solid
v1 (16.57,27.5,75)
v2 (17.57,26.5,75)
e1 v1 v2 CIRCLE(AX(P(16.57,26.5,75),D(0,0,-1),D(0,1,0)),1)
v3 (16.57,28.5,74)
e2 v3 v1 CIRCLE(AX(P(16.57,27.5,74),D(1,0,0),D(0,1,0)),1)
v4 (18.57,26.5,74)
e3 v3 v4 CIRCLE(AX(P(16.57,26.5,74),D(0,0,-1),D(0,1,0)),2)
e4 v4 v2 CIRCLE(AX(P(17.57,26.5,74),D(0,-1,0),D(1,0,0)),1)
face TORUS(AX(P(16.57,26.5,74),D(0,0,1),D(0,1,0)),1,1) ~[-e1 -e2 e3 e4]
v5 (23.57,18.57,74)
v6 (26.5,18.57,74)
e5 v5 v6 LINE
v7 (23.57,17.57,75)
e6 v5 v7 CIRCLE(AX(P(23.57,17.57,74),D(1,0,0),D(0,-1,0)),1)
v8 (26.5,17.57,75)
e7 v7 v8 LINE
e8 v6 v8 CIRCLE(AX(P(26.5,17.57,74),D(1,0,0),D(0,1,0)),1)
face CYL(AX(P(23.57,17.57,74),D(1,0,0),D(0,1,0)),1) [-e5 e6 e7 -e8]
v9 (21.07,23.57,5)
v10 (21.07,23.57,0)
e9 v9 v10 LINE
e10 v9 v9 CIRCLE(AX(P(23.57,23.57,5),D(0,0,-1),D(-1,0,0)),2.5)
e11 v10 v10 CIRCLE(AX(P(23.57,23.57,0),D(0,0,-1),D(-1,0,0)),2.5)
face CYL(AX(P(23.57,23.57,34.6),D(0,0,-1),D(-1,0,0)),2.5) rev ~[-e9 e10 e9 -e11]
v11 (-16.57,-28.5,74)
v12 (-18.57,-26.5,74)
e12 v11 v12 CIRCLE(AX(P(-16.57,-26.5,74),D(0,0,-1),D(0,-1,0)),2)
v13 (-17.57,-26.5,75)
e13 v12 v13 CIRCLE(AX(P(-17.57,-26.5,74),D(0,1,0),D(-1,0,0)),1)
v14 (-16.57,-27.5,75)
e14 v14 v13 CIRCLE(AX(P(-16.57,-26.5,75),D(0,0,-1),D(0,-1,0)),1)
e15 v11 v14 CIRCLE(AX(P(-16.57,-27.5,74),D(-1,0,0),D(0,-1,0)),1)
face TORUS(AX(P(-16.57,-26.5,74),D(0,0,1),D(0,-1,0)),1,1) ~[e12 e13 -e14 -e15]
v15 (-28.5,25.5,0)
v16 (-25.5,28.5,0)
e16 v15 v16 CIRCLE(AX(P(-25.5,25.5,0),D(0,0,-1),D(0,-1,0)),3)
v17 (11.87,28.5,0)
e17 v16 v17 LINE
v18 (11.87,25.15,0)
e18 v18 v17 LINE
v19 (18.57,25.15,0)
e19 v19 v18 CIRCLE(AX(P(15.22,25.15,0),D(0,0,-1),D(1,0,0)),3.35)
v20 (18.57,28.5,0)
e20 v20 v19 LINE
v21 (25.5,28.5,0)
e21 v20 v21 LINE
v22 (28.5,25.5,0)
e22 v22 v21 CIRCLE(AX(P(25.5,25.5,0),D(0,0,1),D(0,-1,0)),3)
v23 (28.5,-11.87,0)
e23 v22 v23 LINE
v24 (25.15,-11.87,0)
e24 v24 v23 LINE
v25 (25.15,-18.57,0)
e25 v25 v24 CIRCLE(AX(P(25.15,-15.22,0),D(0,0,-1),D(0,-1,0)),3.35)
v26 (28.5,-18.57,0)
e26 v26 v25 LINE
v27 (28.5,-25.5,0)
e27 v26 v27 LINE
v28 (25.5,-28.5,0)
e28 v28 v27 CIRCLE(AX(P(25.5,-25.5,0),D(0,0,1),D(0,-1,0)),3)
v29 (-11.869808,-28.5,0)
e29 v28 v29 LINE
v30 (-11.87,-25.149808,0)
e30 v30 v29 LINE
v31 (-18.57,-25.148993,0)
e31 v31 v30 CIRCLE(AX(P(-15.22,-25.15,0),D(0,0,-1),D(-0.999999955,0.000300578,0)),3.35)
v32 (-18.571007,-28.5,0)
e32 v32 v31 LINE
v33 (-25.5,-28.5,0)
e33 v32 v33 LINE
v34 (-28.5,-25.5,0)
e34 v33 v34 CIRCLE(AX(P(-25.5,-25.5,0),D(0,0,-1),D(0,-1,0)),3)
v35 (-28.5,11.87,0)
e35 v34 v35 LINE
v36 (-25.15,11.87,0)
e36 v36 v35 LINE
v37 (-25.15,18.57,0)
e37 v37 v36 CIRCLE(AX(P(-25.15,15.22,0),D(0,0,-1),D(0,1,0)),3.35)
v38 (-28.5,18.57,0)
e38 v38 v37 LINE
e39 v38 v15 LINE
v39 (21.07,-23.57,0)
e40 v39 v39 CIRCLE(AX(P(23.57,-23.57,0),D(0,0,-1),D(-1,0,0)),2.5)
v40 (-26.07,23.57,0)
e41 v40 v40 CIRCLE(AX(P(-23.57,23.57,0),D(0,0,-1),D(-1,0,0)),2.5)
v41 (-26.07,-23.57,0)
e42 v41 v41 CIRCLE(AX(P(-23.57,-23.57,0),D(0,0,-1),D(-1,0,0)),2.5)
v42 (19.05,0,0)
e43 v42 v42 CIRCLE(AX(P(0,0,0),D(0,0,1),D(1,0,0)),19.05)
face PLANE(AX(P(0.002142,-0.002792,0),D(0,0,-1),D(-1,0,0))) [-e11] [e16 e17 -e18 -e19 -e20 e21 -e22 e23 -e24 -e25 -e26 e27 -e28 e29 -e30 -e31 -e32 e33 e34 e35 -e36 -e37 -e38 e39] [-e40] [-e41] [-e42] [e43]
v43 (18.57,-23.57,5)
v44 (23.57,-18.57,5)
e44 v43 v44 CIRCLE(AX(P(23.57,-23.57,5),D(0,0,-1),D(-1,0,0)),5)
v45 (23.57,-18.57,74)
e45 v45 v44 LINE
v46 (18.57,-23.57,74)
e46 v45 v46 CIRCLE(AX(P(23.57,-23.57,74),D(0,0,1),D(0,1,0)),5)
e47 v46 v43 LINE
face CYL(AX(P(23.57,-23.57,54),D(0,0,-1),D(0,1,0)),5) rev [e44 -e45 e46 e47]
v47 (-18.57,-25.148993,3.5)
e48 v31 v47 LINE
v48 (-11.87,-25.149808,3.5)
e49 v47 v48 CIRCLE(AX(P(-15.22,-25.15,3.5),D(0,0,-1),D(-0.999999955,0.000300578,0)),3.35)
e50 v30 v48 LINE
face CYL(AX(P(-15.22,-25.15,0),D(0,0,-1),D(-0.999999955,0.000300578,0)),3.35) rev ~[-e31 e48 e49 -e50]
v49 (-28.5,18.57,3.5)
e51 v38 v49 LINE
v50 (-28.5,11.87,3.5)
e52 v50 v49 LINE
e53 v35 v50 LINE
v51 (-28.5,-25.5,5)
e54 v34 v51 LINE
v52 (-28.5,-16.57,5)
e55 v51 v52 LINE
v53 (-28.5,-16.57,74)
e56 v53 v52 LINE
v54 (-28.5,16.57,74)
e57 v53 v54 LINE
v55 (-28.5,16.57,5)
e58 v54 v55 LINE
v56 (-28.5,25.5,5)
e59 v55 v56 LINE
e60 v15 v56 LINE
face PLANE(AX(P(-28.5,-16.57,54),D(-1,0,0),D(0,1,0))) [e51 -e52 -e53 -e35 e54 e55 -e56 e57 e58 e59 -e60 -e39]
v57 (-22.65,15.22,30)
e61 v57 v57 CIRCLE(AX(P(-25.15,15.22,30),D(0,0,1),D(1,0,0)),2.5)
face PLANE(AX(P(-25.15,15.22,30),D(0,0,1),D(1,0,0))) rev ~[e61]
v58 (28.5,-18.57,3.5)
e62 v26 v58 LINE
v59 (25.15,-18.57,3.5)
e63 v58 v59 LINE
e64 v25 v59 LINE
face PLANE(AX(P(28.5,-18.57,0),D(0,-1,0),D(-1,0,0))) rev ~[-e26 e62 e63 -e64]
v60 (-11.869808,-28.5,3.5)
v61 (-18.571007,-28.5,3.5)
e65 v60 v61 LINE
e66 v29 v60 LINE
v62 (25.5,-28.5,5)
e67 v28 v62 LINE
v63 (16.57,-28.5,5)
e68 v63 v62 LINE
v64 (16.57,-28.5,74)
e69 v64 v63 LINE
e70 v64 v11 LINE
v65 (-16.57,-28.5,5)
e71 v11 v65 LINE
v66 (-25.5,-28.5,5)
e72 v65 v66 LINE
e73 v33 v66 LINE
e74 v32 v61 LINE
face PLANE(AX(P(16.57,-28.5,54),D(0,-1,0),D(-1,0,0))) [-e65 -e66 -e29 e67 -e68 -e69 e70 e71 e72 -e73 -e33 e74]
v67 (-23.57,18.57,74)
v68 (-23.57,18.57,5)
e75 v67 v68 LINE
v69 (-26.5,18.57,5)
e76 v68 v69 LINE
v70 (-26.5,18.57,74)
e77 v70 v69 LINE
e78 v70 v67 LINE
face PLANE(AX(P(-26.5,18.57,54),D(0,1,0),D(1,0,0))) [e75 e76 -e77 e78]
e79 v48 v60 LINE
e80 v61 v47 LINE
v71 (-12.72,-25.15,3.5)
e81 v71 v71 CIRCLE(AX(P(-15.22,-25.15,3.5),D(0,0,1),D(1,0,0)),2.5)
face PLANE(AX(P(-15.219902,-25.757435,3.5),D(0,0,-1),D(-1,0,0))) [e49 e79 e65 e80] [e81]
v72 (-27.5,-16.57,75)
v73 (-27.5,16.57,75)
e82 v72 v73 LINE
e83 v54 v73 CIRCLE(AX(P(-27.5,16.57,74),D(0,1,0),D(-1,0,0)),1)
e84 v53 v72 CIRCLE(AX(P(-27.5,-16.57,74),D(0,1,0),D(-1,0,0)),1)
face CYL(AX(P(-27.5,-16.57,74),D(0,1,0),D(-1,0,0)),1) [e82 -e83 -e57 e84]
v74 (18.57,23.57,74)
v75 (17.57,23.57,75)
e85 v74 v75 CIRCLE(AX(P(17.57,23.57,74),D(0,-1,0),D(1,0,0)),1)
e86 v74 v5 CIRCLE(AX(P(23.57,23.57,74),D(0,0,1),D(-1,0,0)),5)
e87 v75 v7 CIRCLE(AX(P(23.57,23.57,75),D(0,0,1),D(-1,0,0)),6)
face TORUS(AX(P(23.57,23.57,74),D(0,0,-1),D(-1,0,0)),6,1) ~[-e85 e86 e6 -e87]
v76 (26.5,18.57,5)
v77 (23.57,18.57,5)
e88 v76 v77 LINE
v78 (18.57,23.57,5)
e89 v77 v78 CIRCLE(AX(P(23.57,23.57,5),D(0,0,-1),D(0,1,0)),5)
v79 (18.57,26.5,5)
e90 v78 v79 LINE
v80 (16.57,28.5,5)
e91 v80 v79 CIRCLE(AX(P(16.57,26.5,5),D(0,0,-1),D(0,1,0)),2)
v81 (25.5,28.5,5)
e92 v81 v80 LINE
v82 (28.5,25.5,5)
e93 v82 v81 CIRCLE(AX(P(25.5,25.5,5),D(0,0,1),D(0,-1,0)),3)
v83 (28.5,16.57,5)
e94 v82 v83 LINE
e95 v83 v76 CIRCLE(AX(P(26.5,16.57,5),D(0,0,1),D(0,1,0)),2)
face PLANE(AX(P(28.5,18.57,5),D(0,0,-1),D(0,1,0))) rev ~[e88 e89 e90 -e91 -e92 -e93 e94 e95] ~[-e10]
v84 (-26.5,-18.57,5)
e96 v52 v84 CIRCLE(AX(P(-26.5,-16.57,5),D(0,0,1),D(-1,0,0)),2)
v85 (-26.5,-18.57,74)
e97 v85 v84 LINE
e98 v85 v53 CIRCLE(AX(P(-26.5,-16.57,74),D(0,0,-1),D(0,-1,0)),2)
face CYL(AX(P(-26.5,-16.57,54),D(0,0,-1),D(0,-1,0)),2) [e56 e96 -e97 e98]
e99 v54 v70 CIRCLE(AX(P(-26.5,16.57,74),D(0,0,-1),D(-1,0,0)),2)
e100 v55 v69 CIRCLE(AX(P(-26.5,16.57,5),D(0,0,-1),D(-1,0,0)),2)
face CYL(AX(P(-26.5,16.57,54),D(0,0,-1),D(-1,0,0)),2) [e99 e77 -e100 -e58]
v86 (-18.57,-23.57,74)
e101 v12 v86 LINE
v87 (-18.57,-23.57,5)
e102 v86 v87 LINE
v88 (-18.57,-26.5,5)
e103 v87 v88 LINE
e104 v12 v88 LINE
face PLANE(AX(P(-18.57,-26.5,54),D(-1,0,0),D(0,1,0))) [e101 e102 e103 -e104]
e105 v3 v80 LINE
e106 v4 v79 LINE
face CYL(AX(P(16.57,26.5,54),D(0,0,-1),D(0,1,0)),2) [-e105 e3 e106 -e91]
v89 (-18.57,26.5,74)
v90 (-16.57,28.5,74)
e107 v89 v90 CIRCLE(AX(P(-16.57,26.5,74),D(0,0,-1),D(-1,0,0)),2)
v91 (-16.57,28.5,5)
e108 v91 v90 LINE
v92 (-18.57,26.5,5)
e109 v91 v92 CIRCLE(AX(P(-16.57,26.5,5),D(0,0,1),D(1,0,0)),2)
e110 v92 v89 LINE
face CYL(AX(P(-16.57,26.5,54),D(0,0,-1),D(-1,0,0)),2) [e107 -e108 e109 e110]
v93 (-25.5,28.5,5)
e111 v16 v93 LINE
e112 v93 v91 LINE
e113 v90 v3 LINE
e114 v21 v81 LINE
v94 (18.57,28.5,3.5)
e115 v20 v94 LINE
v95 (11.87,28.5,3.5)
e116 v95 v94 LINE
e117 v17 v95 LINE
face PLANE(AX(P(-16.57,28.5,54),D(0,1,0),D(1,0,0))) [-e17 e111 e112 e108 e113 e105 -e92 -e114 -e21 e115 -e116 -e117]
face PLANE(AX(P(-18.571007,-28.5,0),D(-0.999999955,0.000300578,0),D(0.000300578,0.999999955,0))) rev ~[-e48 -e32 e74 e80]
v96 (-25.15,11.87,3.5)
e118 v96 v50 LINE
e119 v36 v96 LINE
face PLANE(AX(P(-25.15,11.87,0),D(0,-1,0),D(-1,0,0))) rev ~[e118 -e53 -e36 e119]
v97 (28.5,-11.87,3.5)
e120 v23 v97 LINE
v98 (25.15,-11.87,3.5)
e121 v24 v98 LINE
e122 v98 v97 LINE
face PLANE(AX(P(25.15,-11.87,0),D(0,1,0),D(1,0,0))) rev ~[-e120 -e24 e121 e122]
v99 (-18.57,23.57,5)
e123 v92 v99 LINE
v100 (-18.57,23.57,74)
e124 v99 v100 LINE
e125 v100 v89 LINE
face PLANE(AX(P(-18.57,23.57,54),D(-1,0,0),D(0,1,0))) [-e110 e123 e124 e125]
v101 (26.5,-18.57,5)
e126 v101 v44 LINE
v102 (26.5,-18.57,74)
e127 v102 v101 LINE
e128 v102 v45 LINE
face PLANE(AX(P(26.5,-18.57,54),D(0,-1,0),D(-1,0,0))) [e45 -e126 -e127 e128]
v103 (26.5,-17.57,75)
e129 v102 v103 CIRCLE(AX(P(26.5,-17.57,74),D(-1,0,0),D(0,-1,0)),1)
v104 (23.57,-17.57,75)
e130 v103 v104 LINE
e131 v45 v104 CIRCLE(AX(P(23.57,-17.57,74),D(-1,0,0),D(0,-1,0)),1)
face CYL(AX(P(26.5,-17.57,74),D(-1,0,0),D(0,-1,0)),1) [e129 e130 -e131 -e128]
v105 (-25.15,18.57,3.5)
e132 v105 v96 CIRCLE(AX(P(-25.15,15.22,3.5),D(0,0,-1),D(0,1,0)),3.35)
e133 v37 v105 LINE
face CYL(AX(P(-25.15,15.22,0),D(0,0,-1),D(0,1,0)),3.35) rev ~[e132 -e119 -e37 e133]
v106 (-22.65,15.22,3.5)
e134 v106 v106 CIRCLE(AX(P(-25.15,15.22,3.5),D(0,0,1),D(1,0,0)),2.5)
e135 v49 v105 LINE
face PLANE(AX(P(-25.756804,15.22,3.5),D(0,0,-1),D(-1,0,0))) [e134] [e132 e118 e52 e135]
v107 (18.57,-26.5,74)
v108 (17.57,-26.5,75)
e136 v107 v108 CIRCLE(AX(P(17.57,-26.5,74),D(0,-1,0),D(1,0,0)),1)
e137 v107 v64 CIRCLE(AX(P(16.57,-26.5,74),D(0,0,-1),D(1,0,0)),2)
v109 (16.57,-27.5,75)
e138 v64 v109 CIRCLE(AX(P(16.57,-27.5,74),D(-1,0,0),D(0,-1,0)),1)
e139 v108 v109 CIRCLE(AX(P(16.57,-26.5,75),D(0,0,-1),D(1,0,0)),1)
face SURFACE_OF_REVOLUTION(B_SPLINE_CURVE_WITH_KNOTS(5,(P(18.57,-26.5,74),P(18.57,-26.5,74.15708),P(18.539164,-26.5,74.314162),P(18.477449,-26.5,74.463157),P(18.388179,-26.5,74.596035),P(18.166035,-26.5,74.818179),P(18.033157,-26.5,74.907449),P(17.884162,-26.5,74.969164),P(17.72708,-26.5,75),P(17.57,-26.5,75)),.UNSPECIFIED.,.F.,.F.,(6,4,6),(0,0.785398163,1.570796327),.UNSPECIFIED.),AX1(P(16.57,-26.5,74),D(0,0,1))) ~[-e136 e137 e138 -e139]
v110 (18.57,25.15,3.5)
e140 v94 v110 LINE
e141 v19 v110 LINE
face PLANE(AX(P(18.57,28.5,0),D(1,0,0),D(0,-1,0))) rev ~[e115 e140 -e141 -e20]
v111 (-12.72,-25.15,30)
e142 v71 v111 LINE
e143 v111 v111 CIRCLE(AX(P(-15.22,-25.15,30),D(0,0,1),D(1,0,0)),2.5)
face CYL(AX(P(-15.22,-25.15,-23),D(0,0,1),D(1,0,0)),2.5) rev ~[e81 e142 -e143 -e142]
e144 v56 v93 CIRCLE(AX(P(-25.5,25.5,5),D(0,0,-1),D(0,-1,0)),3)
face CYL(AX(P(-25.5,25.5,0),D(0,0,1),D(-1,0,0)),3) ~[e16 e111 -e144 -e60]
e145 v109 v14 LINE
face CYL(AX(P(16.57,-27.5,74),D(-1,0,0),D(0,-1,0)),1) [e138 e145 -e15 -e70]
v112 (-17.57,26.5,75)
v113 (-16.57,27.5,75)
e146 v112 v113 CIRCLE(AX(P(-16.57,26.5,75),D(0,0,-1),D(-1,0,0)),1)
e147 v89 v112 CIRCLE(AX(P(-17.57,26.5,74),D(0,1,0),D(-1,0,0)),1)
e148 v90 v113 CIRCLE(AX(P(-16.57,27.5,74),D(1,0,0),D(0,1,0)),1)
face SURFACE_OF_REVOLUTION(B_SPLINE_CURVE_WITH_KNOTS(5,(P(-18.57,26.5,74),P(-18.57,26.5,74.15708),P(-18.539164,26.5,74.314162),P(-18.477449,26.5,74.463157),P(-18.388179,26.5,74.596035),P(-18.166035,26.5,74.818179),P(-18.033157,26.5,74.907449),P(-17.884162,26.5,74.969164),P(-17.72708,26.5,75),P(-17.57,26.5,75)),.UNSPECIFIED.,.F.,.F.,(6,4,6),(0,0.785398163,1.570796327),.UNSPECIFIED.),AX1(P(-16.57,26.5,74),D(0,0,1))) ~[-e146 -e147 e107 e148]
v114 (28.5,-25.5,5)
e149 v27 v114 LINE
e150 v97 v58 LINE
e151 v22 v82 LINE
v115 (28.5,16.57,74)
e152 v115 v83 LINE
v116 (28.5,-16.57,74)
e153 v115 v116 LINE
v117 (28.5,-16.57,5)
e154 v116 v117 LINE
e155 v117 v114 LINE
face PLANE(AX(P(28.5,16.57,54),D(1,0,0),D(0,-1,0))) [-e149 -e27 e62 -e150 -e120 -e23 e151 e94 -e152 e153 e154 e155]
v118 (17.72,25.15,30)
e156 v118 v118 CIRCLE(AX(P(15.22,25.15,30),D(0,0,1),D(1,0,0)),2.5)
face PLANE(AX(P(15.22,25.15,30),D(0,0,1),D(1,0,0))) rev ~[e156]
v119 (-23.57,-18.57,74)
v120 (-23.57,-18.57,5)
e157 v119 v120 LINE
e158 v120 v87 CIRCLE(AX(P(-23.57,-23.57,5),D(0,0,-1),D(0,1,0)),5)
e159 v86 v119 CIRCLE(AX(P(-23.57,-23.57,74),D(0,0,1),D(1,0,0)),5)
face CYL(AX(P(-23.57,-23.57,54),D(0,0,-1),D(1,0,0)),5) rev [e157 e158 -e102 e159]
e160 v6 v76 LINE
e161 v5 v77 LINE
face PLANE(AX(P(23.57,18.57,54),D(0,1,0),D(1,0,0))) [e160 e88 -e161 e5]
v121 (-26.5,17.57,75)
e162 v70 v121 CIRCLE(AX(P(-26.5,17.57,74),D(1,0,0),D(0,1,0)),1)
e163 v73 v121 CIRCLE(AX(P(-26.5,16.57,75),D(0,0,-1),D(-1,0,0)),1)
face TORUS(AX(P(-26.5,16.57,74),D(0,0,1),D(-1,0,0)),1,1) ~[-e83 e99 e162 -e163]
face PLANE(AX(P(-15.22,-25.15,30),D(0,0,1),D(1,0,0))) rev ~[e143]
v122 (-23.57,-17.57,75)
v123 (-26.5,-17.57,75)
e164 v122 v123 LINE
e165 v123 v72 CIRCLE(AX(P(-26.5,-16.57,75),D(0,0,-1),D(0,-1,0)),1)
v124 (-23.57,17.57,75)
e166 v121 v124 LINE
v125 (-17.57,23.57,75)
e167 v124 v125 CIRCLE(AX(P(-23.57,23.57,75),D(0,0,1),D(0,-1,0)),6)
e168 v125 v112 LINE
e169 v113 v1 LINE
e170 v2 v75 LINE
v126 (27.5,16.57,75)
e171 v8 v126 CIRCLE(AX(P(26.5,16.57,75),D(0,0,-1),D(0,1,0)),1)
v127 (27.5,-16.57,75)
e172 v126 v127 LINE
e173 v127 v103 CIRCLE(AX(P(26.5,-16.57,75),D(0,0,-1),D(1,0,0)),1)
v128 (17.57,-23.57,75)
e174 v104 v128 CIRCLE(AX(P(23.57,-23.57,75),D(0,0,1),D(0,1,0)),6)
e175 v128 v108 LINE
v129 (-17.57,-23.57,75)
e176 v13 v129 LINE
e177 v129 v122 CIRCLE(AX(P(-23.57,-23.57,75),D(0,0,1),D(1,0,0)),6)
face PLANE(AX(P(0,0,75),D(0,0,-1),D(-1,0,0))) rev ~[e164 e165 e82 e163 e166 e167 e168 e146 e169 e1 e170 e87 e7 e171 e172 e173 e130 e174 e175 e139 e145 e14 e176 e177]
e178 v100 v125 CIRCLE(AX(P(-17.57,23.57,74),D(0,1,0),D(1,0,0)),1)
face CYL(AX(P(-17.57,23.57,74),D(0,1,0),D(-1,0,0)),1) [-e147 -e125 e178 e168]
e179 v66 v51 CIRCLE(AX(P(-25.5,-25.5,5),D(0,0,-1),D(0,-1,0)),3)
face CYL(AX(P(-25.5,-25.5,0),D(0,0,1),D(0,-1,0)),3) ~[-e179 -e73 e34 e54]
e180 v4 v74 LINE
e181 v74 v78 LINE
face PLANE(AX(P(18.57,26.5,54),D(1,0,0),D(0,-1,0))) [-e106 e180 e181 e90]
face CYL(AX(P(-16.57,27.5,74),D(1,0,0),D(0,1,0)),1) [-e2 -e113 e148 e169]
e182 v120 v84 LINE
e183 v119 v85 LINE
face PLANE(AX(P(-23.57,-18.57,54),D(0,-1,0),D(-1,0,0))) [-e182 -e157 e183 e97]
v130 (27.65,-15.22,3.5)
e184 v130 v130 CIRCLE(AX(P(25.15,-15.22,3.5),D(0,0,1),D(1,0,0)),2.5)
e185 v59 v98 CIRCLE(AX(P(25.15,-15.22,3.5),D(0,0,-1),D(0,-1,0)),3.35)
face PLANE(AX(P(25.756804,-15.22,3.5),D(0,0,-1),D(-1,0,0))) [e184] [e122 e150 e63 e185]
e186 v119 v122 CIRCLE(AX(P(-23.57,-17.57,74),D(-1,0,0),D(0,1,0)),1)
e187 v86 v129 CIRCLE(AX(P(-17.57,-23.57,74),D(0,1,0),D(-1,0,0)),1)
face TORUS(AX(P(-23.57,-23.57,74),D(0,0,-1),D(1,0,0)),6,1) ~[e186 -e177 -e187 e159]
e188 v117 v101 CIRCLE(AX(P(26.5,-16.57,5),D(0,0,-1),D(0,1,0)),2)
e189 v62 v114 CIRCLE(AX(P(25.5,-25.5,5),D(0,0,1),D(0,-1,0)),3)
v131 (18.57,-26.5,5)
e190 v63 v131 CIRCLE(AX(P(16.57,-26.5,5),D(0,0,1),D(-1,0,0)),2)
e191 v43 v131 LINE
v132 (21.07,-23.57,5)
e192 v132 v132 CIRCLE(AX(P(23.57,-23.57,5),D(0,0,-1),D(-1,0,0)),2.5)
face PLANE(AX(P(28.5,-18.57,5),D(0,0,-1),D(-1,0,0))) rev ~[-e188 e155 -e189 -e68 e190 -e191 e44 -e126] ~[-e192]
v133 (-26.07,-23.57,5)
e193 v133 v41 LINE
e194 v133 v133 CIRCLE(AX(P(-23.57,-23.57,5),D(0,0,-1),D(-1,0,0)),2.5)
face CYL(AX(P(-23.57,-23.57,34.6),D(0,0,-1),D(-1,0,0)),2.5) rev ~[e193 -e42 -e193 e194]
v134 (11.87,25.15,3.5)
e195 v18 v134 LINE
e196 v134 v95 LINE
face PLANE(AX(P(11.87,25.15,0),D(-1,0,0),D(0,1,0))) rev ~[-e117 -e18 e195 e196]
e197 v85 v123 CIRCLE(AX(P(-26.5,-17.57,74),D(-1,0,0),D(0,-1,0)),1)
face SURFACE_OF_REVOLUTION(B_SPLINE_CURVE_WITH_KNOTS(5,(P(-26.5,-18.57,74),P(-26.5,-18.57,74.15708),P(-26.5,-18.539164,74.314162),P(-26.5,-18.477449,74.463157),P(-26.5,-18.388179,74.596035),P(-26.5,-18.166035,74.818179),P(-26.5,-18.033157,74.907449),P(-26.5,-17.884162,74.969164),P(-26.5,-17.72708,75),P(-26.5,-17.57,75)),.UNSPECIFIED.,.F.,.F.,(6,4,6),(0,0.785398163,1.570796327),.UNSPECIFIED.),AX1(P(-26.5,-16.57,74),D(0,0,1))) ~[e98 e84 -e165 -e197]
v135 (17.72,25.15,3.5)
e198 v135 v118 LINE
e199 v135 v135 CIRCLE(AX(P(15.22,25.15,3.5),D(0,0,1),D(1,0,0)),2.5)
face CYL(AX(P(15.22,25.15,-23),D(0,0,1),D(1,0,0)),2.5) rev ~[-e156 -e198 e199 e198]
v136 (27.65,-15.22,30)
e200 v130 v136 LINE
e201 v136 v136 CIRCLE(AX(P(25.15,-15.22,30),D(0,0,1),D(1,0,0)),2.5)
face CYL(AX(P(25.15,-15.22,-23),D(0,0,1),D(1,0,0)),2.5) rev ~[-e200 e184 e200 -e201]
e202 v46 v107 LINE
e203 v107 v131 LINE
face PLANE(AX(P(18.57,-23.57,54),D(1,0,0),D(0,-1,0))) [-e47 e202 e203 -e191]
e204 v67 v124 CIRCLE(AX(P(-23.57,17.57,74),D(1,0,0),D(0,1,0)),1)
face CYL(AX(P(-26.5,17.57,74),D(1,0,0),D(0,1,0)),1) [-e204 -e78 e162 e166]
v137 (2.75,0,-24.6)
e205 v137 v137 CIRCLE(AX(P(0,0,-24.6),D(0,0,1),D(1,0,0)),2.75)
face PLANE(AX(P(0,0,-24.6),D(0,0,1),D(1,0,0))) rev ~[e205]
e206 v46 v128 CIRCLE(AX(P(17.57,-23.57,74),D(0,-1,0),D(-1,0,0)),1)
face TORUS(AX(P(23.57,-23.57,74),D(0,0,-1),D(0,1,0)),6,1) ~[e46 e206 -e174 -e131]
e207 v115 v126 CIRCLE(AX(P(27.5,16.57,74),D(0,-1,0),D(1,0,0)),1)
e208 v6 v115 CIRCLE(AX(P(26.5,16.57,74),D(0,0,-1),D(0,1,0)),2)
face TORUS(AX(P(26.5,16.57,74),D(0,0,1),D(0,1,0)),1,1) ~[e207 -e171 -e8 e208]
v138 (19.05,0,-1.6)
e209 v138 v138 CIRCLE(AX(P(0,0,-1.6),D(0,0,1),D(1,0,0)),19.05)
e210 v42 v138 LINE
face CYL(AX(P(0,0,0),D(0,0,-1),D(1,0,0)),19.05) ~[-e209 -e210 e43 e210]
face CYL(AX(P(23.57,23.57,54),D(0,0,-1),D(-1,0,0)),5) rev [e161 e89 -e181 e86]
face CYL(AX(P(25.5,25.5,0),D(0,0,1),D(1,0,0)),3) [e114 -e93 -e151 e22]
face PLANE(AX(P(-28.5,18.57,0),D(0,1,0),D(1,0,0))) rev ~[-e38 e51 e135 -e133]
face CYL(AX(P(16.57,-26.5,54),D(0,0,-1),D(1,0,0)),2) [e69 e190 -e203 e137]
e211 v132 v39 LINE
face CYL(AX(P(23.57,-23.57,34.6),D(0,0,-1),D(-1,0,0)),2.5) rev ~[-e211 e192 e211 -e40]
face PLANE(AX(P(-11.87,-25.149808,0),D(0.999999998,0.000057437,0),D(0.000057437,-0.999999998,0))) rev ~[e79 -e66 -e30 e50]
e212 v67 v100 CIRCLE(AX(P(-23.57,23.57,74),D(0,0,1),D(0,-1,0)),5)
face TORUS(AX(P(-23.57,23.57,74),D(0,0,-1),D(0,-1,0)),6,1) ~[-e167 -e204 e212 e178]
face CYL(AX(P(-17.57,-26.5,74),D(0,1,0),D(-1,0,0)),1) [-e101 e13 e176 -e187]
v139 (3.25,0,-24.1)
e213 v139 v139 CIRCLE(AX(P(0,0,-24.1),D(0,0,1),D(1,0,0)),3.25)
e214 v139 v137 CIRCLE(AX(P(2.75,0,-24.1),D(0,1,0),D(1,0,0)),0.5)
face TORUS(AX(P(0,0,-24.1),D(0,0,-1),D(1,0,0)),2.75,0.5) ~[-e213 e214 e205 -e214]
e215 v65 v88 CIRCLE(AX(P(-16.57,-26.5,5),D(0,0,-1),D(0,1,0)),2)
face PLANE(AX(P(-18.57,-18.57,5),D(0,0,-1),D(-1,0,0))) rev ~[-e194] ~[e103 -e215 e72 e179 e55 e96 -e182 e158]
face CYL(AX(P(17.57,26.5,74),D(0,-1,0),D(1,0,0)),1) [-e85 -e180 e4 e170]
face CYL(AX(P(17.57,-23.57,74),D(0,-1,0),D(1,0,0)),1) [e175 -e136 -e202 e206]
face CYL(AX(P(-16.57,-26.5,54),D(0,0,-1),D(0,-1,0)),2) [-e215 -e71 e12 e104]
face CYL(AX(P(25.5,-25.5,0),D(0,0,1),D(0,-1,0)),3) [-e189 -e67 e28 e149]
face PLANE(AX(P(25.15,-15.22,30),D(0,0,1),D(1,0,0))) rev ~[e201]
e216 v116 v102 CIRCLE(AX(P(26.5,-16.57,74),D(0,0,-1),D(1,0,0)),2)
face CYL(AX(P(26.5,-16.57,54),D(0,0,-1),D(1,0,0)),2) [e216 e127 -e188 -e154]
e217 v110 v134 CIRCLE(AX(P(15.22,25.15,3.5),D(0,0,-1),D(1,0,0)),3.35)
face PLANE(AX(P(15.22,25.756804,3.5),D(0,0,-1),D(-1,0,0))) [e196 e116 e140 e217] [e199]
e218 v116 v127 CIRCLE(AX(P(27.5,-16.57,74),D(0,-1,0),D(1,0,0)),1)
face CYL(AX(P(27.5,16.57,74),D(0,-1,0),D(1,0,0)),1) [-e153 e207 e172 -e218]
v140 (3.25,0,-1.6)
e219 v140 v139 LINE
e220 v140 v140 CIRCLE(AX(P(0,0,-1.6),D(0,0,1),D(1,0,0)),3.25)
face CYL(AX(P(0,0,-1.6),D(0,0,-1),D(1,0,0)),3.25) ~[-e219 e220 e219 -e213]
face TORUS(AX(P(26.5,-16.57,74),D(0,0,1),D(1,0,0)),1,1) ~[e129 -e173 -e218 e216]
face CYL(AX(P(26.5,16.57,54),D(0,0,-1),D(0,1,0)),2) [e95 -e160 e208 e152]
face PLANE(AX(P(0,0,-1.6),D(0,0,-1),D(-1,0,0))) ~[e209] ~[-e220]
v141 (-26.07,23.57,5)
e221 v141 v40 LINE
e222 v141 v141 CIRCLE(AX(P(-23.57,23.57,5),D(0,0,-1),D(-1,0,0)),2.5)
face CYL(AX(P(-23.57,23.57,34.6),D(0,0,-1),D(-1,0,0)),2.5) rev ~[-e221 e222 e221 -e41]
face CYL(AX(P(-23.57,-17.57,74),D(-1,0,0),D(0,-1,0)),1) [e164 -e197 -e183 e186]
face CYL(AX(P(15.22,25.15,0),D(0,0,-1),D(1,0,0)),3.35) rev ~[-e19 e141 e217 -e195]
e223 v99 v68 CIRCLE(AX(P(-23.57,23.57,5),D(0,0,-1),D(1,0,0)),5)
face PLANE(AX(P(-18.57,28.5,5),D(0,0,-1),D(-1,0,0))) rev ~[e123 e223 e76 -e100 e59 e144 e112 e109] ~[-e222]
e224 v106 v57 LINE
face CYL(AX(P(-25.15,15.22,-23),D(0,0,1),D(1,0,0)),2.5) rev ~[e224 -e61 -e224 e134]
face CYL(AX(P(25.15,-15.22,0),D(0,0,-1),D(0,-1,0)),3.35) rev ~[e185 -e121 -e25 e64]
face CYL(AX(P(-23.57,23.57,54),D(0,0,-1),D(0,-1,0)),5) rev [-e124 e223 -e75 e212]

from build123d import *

# Parameters (mm, degrees)
BOSS_EXTRUDE1_DEPTH          = 54.00000000000001
CUT_EXTRUDE1_REACH           = 79.096
SKETCH4_W                    = 49.00000000000001
SKETCH4_H                    = 9.930000000000003
CUT_EXTRUDE2_DEPTH           = 9.930000000000001
CUT_EXTRUDE3_DEPTH           = 9.930000000000001
CUT_EXTRUDE4_REACH           = 79.096
CUT_EXTRUDE5_DEPTH           = 3.5
CUT_EXTRUDE6_DEPTH           = 3.5
CUT_EXTRUDE7_DEPTH           = 3.5
CUT_EXTRUDE8_DEPTH           = 3.5
DRAFT1_ANGLE                 = 0.01722183664478431
F_5_0_5_DIAMETER_HOLE1_D     = 5
F_5_0_5_DIAMETER_HOLE1_DEPTH = 29.6
F_5_0_5_DIAMETER_HOLE2_D     = 5
F_5_0_5_DIAMETER_HOLE2_DEPTH = 26.5
FILLET1_R                    = 2
FILLET2_R                    = 5
FILLET3_R                    = 0.4999999999999998
FILLET5_R                    = 2.9999999999999996
BOSS_EXTRUDE2_DEPTH          = 21
FILLET4_R                    = 0.9999999999999991


with BuildPart() as part:
    # Sketch1 → Boss-Extrude1 (new body)
    with BuildSketch(Plane(origin=(0, 0, 0), x_dir=(-1, 0, 0), z_dir=(0, 0, -1))):
        Polygon((-28.5, 28.5), (-28.5, -28.51414849795304), (28.5, -28.49701556553382), (28.5, 28.5), align=None)
    extrude(amount=-BOSS_EXTRUDE1_DEPTH)

    # Cut-Extrude1: up to this plane
    cut_extrude1_end = Plane(origin=(28.5, -28.51414849795304, 54.00000000000001), z_dir=(-0.0003005777481625158, -0.9999999548265077, 0))
    # Sketch3 → Cut-Extrude1 (cut, up to the surface)
    with BuildSketch(Plane(origin=(0, -18.57, 0), x_dir=(1, 0, 0), z_dir=(0, 1, 0)), mode=Mode.PRIVATE) as cut_extrude1_sk1:
        Polygon((28.499999999999996, -5.000000000000003), (18.57, -5.000000000000004), (18.570000000000004, -54), (28.499999999999996, -53.99999999999999), align=None)
    cut_extrude1_tool1 = split(extrude(cut_extrude1_sk1.sketch, amount=-CUT_EXTRUDE1_REACH, mode=Mode.PRIVATE), bisect_by=cut_extrude1_end, keep=Keep.BOTH, mode=Mode.PRIVATE)
    add(cut_extrude1_tool1.solids().sort_by_distance((23.535, -18.57, 29.5))[0], mode=Mode.SUBTRACT)

    # Sketch4 → Cut-Extrude2 (cut)
    with BuildSketch(Plane(origin=(28.5, 0, 0), x_dir=(0, 0, -1), z_dir=(1, 0, 0))):
        with Locations((-29.500000000000004, 23.535000000000004)):
            Rectangle(SKETCH4_W, SKETCH4_H)
    extrude(amount=-CUT_EXTRUDE2_DEPTH, mode=Mode.SUBTRACT)

    # Sketch5 → Cut-Extrude3 (cut)
    with BuildSketch(Plane(origin=(0, 28.5, 0), x_dir=(-1, 0, 0), z_dir=(0, 1, 0))):
        Polygon((18.570000000000004, 5.000000000000003), (28.499999999999996, 5.000000000000003), (28.5, 54), (18.57, 54), align=None)
    extrude(amount=-CUT_EXTRUDE3_DEPTH, mode=Mode.SUBTRACT)

    # Cut-Extrude4: up to this plane
    cut_extrude4_end = Plane(origin=(28.5, -28.51414849795304, 54.00000000000001), z_dir=(-0.0003005777481625158, -0.9999999548265077, 0))
    # Sketch7 → Cut-Extrude4 (cut, up to the surface)
    with BuildSketch(Plane(origin=(0, -18.57, 0), x_dir=(1, 0, 0), z_dir=(0, 1, 0)), mode=Mode.PRIVATE) as cut_extrude4_sk1:
        Polygon((-18.569999999999997, -5.000000000000004), (-28.499999999999996, -5.000000000000003), (-28.5, -54), (-18.569999999999997, -53.99999999999999), align=None)
    cut_extrude4_tool1 = split(extrude(cut_extrude4_sk1.sketch, amount=-CUT_EXTRUDE4_REACH, mode=Mode.PRIVATE), bisect_by=cut_extrude4_end, keep=Keep.BOTH, mode=Mode.PRIVATE)
    add(cut_extrude4_tool1.solids().sort_by_distance((-23.535, -18.57, 29.5))[0], mode=Mode.SUBTRACT)

    # Sketch8 → Cut-Extrude5 (cut)
    with BuildSketch(Plane(origin=(0, 0, 0), x_dir=(-1, 0, 0), z_dir=(0, 0, -1))):
        with BuildLine():
            Line((18.5710070868336, -28.5), (18.569999848669397, -25.148993064543653))
            ThreePointArc((18.569999848669397, -25.148993064543653), (15.21959273974545, -21.800000024754763), (11.870000005525402, -25.149807585039706))
            Line((11.870000005525402, -25.149807585039706), (11.869807463820973, -28.502014231583665))
            Line((11.869807463820973, -28.502014231583665), (18.5710070868336, -28.5))
        make_face()
    extrude(amount=-CUT_EXTRUDE5_DEPTH, mode=Mode.SUBTRACT)

    # Sketch9 → Cut-Extrude6 (cut)
    with BuildSketch(Plane(origin=(0, 0, 0), x_dir=(-1, 0, 0), z_dir=(0, 0, -1))):
        with BuildLine():
            Line((-18.57, 28.5), (-18.57, 25.15))
            ThreePointArc((-18.57, 25.15), (-15.22, 21.799999999999997), (-11.87, 25.15))
            Line((-11.87, 25.15), (-11.87, 28.5))
            Line((-11.87, 28.5), (-18.57, 28.5))
        make_face()
    extrude(amount=-CUT_EXTRUDE6_DEPTH, mode=Mode.SUBTRACT)

    # Sketch10 → Cut-Extrude7 (cut)
    with BuildSketch(Plane(origin=(0, 0, 0), x_dir=(-1, 0, 0), z_dir=(0, 0, -1))):
        with BuildLine():
            Line((-25.15, -11.870000000000003), (-28.5, -11.87))
            Line((-28.5, -11.87), (-28.5, -18.57))
            Line((-28.5, -18.57), (-25.15, -18.57))
            ThreePointArc((-25.15, -18.57), (-21.799999999999997, -15.22), (-25.15, -11.870000000000003))
        make_face()
    extrude(amount=-CUT_EXTRUDE7_DEPTH, mode=Mode.SUBTRACT)

    # Sketch11 → Cut-Extrude8 (cut)
    with BuildSketch(Plane(origin=(0, 0, 0), x_dir=(-1, 0, 0), z_dir=(0, 0, -1))):
        with BuildLine():
            Line((28.5, 18.57), (25.15, 18.57))
            ThreePointArc((25.15, 18.57), (21.799999999999997, 15.22), (25.15, 11.869999999999992))
            Line((25.15, 11.869999999999992), (28.5, 11.87))
            Line((28.5, 11.87), (28.5, 18.57))
        make_face()
    extrude(amount=-CUT_EXTRUDE8_DEPTH, mode=Mode.SUBTRACT)

    # Draft1
    draft1_faces = [part.faces().sort_by_distance(p)[0] for p in [
        (0.17151026292326854, -28.505633583914378, 26.11567870035269),
    ]]
    draft(draft1_faces, Plane(origin=(-18.5710070868336, -28.5, 3.5), x_dir=(0.00030057774815282144, 0.9999999548265077, 0), z_dir=(0.9999999548265077, -0.00030057774815282144, 0)), DRAFT1_ANGLE)

    # Sketch12 → Revolve1 (revolve)
    with BuildSketch(Plane(origin=(0, 0, 0), x_dir=(1, 0, 0), z_dir=(0, 1, 0))):
        Polygon((3.2500000000000004, 24.6), (0, 24.6), (0, 0), (19.05, 0), (19.05, 1.6), (3.2500000000000004, 1.6000000000000008), align=None)
    revolve(axis=Axis((0, 0, -24.6), (0, 0, 1)))

    # Ø5.0 (5) Diameter Hole1
    with Locations(Plane.XY.offset(5.000000000000008)):
        with Locations((23.57, -23.57), (23.57, 23.57), (-23.57, 23.57), (-23.57, -23.57)):
            Hole(F_5_0_5_DIAMETER_HOLE1_D / 2, depth=F_5_0_5_DIAMETER_HOLE1_DEPTH)

    # Ø5.0 (5) Diameter Hole2
    with Locations(Plane(origin=(0, 0, 3.5), x_dir=(-1, 0, 0), z_dir=(0, 0, -1))):
        with Locations((15.22, -25.15), (-25.15, -15.22), (-15.22, 25.15), (25.15, 15.22)):
            Hole(F_5_0_5_DIAMETER_HOLE2_D / 2, depth=F_5_0_5_DIAMETER_HOLE2_DEPTH)

    # Fillet1
    fillet1_edges = [part.edges().sort_by_distance(p)[0] for p in [
        (28.499999999999996, -18.57, 29.499999999999996),
        (18.570000000000004, -28.49999999999951, 29.50000000000001),
        (18.57, 28.5, 29.500000000000004),
        (28.5, 18.57, 29.5),
        (-28.499999999999996, 18.57, 29.500000000000004),
        (-18.57, 28.5, 29.5),
        (-28.499999999999996, -18.57, 29.500000000000004),
        (-18.57, -28.5, 29.500000000000007),
    ]]
    fillet(fillet1_edges, radius=FILLET1_R)

    # Fillet2
    fillet2_edges = [part.edges().sort_by_distance(p)[0] for p in [
        (18.57, -18.57, 29.5),
        (18.57, 18.57, 29.5),
        (-18.57, 18.57, 29.5),
        (-18.569999999999997, -18.57, 29.5),
    ]]
    fillet(fillet2_edges, radius=FILLET2_R)

    # Fillet3
    fillet3_edges = [part.edges().sort_by_distance(p)[0] for p in [
        (-3.2500000000000004, 4e-16, -24.6),
    ]]
    fillet(fillet3_edges, radius=FILLET3_R)

    # Fillet5
    fillet5_edges = [part.edges().sort_by_distance(p)[0] for p in [
        (28.5, -28.499999999999375, 2.5000000000000013),
        (28.5, 28.5, 2.5000000000000013),
        (-28.5, 28.5, 2.5000000000000013),
        (-28.5, -28.500000000000135, 2.5000000000000013),
    ]]
    fillet(fillet5_edges, radius=FILLET5_R)

    # Sketch17 → Boss-Extrude2 (add)
    with BuildSketch(Plane.XY.offset(54.00000000000001)):
        with BuildLine():
            Line((-16.570000000000007, 28.5), (16.569999999999983, 28.5))
            ThreePointArc((16.569999999999983, 28.5), (17.98421356237308, 27.914213562373096), (18.57, 26.500000000000004))
            Line((18.57, 26.500000000000004), (18.57, 23.57))
            ThreePointArc((18.57, 23.57), (20.034466094067263, 20.034466094067263), (23.57, 18.57))
            Line((23.57, 18.57), (26.499999999999996, 18.57))
            ThreePointArc((26.499999999999996, 18.57), (27.914213562373096, 17.984213562373093), (28.5, 16.569999999999993))
            Line((28.5, 16.569999999999993), (28.500000000000004, -16.569999999999997))
            ThreePointArc((28.500000000000004, -16.569999999999997), (27.9142135623731, -17.984213562373093), (26.500000000000004, -18.57))
            Line((26.500000000000004, -18.57), (23.569999999999986, -18.57))
            ThreePointArc((23.569999999999986, -18.57), (20.034466094067255, -20.034466094067263), (18.57, -23.57))
            Line((18.57, -23.57), (18.570000000000004, -26.499999999999538))
            ThreePointArc((18.570000000000004, -26.499999999999538), (17.98421356237311, -27.914213562372627), (16.57000000000003, -28.499999999999535))
            Line((16.57000000000003, -28.499999999999535), (-16.56999999999997, -28.49999999999997))
            ThreePointArc((-16.56999999999997, -28.49999999999997), (-17.98421356237307, -27.91421356237308), (-18.569999999999993, -26.49999999999999))
            Line((-18.569999999999993, -26.49999999999999), (-18.569999999999997, -23.57))
            ThreePointArc((-18.569999999999997, -23.57), (-20.034466094067266, -20.034466094067255), (-23.570000000000014, -18.57))
            Line((-23.570000000000014, -18.57), (-26.500000000000004, -18.57))
            ThreePointArc((-26.500000000000004, -18.57), (-27.9142135623731, -17.984213562373096), (-28.5, -16.57))
            Line((-28.5, -16.57), (-28.5, 16.57))
            ThreePointArc((-28.5, 16.57), (-27.914213562373096, 17.984213562373093), (-26.500000000000004, 18.57))
            Line((-26.500000000000004, 18.57), (-23.570000000000004, 18.57))
            ThreePointArc((-23.570000000000004, 18.57), (-20.034466094067266, 20.034466094067263), (-18.57, 23.57))
            Line((-18.57, 23.57), (-18.570000000000004, 26.500000000000004))
            ThreePointArc((-18.570000000000004, 26.500000000000004), (-17.984213562373103, 27.9142135623731), (-16.570000000000007, 28.5))
        make_face()
    extrude(amount=BOSS_EXTRUDE2_DEPTH)

    # Fillet4
    fillet4_edges = [part.edges().sort_by_distance(p)[0] for p in [
        (-17.984213562373103, 27.9142135623731, 75),
        (-18.57, 25.035000000000004, 75),
        (-20.034466094067266, 20.034466094067263, 75),
        (-25.035000000000004, 18.57, 75),
        (-27.914213562373096, 17.984213562373093, 75),
        (-28.5, 0, 75),
        (-27.9142135623731, -17.984213562373096, 75),
        (-25.03500000000001, -18.57, 75),
        (-20.034466094067263, -20.034466094067255, 75),
        (-18.569999999999993, -25.034999999999997, 75),
        (-17.98421356237307, -27.91421356237308, 75),
        (2.842e-14, -28.49999999999975, 75),
        (17.98421356237311, -27.914213562372627, 75),
        (18.57, -25.03499999999977, 75),
        (20.034466094067252, -20.034466094067263, 75),
        (25.034999999999997, -18.57, 75),
        (27.9142135623731, -17.984213562373093, 75),
        (28.5, 0, 75),
        (27.914213562373096, 17.984213562373093, 75),
        (25.034999999999997, 18.57, 75),
        (20.034466094067263, 20.034466094067263, 75),
        (18.57, 25.035000000000004, 75),
        (17.984213562373082, 27.914213562373096, 75),
        (-1.421e-14, 28.5, 75),
    ]]
    fillet(fillet4_edges, radius=FILLET4_R)


solid = part.part
